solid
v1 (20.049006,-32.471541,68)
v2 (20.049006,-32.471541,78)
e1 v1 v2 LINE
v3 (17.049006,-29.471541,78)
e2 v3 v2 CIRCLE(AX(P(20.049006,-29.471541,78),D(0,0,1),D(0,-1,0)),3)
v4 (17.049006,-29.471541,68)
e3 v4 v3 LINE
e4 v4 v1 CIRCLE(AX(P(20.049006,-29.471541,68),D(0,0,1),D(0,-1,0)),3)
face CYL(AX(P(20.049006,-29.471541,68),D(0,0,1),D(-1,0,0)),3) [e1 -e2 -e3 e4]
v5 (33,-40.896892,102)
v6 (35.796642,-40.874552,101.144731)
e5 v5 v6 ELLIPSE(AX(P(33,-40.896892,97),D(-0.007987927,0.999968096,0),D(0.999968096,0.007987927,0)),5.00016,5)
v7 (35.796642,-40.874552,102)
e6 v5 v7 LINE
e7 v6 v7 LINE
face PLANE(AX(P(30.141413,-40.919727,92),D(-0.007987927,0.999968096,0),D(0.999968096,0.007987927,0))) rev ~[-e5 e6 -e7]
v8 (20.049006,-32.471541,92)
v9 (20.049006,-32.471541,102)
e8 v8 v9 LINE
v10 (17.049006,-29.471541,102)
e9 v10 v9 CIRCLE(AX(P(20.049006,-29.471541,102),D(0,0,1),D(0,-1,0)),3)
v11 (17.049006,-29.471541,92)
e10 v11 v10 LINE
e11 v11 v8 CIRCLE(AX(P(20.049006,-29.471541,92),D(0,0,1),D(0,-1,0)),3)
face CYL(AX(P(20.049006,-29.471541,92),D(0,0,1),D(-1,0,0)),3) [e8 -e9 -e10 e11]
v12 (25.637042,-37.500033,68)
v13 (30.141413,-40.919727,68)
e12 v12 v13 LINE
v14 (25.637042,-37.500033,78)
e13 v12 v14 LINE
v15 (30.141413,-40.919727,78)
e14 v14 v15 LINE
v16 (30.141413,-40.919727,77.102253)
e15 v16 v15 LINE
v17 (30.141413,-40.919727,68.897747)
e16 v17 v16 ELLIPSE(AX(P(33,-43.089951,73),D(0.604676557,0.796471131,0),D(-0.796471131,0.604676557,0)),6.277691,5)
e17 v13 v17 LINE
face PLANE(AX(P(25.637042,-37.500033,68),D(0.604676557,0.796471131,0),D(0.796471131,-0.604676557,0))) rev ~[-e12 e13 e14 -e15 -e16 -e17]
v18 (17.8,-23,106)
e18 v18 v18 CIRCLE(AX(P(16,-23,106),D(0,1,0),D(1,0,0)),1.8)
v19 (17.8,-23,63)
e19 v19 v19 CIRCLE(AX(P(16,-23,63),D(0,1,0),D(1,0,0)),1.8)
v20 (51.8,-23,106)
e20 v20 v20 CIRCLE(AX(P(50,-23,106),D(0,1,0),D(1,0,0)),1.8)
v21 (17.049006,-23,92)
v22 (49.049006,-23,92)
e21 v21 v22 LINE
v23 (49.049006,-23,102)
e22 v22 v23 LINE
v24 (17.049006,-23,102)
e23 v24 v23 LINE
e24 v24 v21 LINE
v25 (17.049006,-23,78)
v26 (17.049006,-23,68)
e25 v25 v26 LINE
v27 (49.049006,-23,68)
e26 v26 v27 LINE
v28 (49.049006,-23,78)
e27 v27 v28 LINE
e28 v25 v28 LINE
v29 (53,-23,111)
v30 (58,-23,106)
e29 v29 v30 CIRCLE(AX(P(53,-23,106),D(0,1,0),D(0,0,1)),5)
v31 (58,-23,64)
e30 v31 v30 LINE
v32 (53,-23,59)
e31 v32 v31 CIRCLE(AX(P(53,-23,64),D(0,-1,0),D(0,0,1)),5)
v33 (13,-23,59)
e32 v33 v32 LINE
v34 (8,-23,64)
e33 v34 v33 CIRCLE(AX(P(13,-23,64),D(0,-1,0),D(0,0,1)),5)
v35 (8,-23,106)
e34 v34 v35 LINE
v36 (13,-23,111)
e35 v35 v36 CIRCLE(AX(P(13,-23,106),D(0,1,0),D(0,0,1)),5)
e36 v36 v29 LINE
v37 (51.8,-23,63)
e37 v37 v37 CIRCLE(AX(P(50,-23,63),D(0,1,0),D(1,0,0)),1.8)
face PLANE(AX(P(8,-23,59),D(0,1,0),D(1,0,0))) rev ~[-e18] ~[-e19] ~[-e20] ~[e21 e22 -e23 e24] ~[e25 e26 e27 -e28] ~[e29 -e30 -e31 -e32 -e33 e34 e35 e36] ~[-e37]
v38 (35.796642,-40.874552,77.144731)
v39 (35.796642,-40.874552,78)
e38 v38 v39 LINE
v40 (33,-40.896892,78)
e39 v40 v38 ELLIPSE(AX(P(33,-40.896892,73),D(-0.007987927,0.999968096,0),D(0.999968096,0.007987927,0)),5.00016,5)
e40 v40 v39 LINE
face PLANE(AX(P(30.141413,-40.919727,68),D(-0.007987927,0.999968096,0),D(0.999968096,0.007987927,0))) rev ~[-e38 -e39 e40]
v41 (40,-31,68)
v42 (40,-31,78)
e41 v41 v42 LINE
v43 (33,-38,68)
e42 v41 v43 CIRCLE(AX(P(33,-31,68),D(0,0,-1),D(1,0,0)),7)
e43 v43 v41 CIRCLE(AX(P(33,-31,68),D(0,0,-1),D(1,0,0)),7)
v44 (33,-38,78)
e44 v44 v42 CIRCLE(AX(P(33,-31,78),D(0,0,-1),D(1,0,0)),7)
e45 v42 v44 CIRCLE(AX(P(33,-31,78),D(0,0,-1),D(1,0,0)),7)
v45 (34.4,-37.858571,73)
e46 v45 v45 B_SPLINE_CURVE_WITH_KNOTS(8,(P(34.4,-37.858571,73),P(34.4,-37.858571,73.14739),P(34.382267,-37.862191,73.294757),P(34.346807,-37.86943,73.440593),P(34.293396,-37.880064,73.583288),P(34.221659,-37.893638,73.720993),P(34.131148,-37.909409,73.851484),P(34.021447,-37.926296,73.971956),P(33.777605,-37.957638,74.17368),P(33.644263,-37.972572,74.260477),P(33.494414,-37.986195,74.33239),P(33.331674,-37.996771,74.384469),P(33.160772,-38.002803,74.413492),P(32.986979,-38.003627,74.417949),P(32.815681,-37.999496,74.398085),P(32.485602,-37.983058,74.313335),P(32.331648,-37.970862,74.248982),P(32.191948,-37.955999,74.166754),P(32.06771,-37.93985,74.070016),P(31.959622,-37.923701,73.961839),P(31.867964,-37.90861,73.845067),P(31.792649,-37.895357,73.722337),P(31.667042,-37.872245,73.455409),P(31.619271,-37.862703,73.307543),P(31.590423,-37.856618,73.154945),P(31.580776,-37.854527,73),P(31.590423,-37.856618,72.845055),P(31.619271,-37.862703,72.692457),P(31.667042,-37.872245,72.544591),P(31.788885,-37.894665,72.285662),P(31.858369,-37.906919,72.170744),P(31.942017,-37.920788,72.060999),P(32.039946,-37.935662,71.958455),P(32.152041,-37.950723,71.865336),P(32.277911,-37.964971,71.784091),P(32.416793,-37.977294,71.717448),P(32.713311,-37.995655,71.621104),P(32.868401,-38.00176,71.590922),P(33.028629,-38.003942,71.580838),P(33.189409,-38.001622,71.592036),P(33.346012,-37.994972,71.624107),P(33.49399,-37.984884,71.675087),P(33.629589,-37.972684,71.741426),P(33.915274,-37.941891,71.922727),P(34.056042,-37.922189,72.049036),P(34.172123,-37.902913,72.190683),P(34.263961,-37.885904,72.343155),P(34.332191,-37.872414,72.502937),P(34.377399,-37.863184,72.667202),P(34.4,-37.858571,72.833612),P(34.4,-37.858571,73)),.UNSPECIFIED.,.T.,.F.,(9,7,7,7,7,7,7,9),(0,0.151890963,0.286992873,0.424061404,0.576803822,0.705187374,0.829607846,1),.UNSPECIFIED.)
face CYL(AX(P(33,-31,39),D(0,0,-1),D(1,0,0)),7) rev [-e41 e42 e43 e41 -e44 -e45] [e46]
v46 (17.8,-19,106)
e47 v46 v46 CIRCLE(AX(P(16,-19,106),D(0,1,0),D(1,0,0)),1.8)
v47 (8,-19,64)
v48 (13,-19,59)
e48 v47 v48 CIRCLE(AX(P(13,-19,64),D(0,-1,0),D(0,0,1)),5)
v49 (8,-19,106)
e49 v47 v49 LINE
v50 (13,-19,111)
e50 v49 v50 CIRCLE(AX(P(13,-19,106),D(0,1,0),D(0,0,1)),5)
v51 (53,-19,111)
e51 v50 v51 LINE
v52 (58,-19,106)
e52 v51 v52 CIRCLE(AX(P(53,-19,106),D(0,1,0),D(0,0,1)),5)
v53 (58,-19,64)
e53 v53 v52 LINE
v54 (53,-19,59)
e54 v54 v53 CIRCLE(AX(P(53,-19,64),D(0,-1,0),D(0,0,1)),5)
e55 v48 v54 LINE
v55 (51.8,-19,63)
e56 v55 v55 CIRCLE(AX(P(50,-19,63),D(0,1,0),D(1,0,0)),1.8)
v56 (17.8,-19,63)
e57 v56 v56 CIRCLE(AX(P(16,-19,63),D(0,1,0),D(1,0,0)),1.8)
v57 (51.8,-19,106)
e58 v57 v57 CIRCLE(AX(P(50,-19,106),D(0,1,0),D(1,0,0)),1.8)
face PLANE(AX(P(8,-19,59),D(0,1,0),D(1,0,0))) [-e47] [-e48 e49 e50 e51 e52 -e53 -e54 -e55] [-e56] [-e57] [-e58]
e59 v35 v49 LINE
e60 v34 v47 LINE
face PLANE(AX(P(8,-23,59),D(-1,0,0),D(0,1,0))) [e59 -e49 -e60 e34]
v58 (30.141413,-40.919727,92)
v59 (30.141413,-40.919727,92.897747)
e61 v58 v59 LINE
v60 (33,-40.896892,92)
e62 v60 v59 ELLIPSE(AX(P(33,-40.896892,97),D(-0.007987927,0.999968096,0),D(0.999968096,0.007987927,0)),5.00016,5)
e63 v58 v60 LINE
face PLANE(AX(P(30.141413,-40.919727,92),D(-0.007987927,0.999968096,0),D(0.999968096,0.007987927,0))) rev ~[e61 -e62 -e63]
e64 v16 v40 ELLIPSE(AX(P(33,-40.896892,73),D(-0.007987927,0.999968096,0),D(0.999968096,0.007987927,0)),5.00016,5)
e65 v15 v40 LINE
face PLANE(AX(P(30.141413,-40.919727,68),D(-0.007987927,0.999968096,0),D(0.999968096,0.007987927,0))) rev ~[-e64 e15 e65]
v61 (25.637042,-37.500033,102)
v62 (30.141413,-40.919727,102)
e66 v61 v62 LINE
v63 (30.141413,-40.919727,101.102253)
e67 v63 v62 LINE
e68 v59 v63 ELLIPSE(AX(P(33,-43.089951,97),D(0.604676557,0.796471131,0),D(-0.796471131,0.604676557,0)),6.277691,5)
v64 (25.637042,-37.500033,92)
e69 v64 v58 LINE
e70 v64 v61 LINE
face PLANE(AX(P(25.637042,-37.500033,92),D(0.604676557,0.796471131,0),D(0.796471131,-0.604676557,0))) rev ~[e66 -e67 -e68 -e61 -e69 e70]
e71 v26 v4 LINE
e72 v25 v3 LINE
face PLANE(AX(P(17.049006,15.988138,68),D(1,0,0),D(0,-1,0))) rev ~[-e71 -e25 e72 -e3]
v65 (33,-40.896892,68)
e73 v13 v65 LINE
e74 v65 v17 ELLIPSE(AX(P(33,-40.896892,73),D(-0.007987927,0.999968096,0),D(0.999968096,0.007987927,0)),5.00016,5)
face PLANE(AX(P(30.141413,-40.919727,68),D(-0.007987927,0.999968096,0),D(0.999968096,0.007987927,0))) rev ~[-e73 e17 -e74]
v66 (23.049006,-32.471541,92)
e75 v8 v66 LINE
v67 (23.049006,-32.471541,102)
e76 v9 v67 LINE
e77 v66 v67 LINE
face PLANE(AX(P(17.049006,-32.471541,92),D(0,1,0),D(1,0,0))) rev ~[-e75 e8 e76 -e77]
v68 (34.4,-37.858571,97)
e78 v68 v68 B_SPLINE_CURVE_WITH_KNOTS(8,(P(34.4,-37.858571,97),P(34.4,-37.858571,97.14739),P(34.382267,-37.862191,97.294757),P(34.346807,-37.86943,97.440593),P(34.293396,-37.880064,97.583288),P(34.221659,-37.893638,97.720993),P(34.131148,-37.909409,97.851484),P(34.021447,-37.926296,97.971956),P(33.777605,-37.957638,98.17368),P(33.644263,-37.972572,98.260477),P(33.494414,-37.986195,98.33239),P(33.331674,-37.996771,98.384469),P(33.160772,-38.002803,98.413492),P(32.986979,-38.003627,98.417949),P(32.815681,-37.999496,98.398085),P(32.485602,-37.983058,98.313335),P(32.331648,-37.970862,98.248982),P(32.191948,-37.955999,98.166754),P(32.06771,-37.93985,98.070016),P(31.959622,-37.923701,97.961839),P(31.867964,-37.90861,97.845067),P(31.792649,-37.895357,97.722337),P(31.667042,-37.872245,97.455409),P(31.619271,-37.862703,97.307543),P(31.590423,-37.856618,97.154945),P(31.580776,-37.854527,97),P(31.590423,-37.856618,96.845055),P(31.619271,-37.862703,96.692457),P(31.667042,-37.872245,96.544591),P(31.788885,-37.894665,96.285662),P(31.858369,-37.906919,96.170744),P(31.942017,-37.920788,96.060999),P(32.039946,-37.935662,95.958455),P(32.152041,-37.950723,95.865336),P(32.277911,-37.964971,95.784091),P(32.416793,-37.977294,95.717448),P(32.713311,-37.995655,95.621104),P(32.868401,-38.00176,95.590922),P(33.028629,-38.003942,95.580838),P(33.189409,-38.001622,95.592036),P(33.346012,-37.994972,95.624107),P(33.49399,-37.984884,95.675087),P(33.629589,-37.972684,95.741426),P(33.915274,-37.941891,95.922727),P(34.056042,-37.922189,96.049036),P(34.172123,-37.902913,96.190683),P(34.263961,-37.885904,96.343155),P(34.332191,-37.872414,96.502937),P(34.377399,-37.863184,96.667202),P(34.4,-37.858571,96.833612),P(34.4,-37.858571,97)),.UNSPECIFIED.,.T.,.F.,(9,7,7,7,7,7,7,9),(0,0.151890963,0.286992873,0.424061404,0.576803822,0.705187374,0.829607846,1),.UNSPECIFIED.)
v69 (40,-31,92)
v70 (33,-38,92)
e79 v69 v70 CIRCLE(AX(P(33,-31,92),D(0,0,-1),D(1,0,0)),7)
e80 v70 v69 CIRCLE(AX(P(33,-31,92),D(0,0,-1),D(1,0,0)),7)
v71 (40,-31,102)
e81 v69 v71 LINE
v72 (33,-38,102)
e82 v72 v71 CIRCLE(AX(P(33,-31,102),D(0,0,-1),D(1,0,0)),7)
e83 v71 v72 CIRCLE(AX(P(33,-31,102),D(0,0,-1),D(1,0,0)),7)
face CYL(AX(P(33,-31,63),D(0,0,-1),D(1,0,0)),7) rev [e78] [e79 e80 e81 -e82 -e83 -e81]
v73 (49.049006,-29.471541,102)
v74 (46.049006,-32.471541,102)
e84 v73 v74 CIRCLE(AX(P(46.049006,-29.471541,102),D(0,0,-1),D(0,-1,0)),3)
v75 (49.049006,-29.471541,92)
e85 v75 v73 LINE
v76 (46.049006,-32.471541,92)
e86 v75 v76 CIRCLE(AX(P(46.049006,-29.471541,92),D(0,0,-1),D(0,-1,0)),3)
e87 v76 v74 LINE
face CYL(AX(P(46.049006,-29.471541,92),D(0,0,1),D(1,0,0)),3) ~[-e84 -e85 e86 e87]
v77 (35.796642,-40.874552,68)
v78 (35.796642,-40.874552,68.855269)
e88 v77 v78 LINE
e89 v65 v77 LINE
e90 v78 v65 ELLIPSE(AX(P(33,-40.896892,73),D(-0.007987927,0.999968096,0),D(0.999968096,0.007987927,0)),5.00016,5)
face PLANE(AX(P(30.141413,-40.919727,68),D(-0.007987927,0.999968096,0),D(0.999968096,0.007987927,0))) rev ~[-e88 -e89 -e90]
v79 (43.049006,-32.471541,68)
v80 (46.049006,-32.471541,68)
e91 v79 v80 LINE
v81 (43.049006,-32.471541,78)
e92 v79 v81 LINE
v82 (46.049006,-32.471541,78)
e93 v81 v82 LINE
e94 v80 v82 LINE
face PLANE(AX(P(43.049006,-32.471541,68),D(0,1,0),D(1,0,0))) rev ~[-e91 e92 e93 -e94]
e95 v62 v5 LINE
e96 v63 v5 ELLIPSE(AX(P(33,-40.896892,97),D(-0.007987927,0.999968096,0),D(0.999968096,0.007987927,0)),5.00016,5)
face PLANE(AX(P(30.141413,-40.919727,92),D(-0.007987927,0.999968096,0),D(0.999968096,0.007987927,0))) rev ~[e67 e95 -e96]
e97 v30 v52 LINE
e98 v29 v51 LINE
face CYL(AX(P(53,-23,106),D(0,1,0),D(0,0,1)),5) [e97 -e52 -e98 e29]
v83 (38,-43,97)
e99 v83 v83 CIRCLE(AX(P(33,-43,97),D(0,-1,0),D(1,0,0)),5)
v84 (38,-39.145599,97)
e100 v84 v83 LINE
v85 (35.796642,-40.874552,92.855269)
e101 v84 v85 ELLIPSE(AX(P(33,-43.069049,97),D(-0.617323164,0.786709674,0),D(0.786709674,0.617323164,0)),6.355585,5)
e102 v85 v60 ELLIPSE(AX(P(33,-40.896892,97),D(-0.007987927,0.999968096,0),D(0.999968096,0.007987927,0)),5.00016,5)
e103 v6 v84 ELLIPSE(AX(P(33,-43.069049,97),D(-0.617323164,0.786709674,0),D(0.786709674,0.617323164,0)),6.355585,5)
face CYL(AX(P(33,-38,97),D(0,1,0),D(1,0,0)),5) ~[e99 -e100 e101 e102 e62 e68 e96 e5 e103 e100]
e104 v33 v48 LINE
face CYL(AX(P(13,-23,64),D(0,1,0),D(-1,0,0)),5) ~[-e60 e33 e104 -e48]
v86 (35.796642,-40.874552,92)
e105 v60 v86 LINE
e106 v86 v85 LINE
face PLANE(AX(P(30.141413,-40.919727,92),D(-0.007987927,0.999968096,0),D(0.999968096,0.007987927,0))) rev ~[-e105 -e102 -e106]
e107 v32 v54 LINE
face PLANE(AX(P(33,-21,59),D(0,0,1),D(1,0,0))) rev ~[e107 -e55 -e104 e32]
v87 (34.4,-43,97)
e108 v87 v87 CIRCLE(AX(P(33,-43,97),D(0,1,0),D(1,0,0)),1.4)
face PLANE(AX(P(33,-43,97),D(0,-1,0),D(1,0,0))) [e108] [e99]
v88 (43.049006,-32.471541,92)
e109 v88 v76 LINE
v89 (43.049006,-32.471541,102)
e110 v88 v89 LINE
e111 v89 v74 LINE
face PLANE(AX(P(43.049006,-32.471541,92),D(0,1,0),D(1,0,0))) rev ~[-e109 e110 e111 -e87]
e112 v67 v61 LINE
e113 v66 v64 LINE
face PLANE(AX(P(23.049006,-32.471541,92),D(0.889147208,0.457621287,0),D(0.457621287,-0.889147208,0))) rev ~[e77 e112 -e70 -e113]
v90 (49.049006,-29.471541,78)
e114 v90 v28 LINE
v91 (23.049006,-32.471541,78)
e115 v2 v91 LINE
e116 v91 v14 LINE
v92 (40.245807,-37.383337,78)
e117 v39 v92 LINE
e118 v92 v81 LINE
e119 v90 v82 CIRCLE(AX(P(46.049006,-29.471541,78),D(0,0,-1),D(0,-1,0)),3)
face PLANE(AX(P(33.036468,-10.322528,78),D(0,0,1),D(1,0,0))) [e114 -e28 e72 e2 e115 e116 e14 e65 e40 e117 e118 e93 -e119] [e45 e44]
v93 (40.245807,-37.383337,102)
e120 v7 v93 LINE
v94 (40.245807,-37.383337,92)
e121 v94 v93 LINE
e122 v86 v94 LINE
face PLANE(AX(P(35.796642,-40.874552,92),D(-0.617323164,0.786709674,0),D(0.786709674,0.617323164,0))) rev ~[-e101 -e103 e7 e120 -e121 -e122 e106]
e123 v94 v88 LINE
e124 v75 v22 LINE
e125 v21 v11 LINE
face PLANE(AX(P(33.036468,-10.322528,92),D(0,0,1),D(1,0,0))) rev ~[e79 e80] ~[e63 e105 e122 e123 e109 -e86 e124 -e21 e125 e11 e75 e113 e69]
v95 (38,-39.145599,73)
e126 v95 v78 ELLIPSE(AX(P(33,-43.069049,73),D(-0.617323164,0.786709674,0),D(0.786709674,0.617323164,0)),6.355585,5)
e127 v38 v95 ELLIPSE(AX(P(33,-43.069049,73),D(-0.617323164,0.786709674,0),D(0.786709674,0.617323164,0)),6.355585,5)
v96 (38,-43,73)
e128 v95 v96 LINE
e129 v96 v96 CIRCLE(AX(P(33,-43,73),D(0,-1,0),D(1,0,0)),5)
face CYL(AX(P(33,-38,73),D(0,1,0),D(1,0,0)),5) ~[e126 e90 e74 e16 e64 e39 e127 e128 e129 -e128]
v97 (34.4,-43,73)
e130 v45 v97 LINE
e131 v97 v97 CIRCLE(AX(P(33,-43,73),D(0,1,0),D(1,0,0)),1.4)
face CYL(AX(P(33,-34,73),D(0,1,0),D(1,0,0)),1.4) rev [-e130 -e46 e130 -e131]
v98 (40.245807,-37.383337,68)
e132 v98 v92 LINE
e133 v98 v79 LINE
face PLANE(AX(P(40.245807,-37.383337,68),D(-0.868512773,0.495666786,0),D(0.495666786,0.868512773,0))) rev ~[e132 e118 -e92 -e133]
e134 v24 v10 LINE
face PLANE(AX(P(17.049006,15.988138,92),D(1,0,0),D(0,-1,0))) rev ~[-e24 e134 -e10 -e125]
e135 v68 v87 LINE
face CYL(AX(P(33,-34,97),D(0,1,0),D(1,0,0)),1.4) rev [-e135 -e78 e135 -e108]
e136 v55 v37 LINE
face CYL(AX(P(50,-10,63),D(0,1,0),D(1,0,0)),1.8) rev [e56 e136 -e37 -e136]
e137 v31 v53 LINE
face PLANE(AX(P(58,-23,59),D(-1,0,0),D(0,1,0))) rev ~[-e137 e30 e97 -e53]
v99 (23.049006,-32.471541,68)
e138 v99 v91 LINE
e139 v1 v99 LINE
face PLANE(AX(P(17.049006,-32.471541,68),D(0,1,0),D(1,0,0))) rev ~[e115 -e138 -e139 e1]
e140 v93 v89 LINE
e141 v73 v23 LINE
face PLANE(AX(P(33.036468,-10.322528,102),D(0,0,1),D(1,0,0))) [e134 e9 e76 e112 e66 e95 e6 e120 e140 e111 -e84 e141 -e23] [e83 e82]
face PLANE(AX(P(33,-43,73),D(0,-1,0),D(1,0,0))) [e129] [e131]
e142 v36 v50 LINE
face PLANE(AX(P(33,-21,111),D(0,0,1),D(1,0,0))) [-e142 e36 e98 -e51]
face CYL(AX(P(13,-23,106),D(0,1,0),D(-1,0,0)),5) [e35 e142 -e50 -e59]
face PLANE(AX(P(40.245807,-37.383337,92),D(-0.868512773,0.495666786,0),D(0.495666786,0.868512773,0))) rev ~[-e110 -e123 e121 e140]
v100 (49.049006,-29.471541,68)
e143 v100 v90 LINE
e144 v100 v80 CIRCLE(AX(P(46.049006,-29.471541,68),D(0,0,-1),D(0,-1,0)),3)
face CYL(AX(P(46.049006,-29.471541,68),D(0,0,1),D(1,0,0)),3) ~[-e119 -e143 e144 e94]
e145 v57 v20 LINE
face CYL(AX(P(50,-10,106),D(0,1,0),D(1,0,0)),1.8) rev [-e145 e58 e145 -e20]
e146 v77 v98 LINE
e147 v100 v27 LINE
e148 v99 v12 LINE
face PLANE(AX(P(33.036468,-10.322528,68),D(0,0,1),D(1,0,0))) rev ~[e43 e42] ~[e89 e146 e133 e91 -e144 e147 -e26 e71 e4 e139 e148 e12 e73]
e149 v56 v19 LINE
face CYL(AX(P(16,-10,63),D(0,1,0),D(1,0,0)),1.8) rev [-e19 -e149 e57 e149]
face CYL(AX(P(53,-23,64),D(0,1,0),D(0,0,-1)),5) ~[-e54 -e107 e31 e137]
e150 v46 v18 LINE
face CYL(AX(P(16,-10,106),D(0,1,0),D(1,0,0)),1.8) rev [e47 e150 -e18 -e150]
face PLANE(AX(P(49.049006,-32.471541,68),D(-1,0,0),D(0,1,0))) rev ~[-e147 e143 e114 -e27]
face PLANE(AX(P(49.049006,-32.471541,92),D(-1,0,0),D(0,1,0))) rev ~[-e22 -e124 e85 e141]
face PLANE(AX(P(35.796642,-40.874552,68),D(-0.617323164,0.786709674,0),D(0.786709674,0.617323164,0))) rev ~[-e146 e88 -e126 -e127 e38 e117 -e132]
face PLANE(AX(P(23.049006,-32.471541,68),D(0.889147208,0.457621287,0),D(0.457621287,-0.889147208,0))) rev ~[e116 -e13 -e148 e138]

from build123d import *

# Parameters (mm, degrees)
BOX058_W                = 50
BOX058_H                = 37
BOX058_DEPTH            = 48
BOX057_W                = 59
BOX057_H                = 68
BOX057_DEPTH            = 48
BOX056_W                = 3
BOX056_H                = 6
BOX056_DEPTH            = 23
CYLINDER114_R           = 1.4
CYLINDER114_DEPTH       = 10
CYLINDER114_ROLL_ANGLE  = 90
CYLINDER116_R           = 1.4
CYLINDER116_DEPTH       = 10
CYLINDER116_ROLL_ANGLE  = 90
CYLINDER113_R           = 5
CYLINDER113_DEPTH       = 5
CYLINDER113_ROLL_ANGLE  = 90
CYLINDER112_R           = 3
CYLINDER112_DEPTH       = 180
CYLINDER112_PITCH_ANGLE = 90
PAD056_DEPTH            = 10
PAD055_DEPTH            = 10
CYLINDER110_R           = 7.5
CYLINDER110_DEPTH       = 180
CYLINDER110_PITCH_ANGLE = 90
CYLINDER111_R           = 7
CYLINDER111_DEPTH       = 120
PAD054_DEPTH            = 10
PAD053_DEPTH            = 10
BOX055_W                = 32
BOX055_H                = 23
BOX055_DEPTH            = 22
FILLET045_R             = 5
FILLET046_R             = 8
FILLET047_R             = 8
FILLET048_R             = 3
FILLET049_R             = 1
FILLET050_R             = 1
FILLET051_R             = 1
FILLET052_R             = 1
CYLINDER115_R           = 5
CYLINDER115_DEPTH       = 5
CYLINDER115_ROLL_ANGLE  = 90
BOX048_W                = 50
BOX048_H                = 37
BOX048_DEPTH            = 48
BOX046_W                = 59
BOX046_H                = 68
BOX046_DEPTH            = 48
BOX040_W                = 3
BOX040_H                = 6
BOX040_DEPTH            = 23
CYLINDER082_R           = 1.4
CYLINDER082_DEPTH       = 10
CYLINDER082_ROLL_ANGLE  = 90
CYLINDER084_R           = 1.4
CYLINDER084_DEPTH       = 10
CYLINDER084_ROLL_ANGLE  = 90
CYLINDER081_R           = 5
CYLINDER081_DEPTH       = 5
CYLINDER081_ROLL_ANGLE  = 90
CYLINDER080_R           = 3
CYLINDER080_DEPTH       = 180
CYLINDER080_PITCH_ANGLE = 90
PAD044_DEPTH            = 10
PAD043_DEPTH            = 10
CYLINDER075_R           = 7.5
CYLINDER075_DEPTH       = 180
CYLINDER075_PITCH_ANGLE = 90
CYLINDER077_R           = 7
CYLINDER077_DEPTH       = 120
PAD042_DEPTH            = 10
PAD_DEPTH               = 10
BOX039_W                = 32
BOX039_H                = 23
BOX039_DEPTH            = 22
FILLET021_R             = 5
FILLET022_R             = 8
FILLET023_R             = 8
FILLET024_R             = 3
FILLET025_R             = 1
FILLET026_R             = 1
FILLET027_R             = 1
FILLET028_R             = 1
CYLINDER083_R           = 5
CYLINDER083_DEPTH       = 5
CYLINDER083_ROLL_ANGLE  = 90
CYLINDER103_R           = 1.8
CYLINDER103_DEPTH       = 34
CYLINDER103_ROLL_ANGLE  = 90
CYLINDER102_R           = 1.8
CYLINDER102_DEPTH       = 34
CYLINDER102_ROLL_ANGLE  = 90
CYLINDER105_R           = 1.8
CYLINDER105_DEPTH       = 34
CYLINDER105_ROLL_ANGLE  = 90
CYLINDER104_R           = 1.8
CYLINDER104_DEPTH       = 34
CYLINDER104_ROLL_ANGLE  = 90
BOX053_W                = 50
BOX053_H                = 4
BOX053_DEPTH            = 52
FILLET053_R             = 5


with BuildPart() as cubo053:
    # Box058 → Box058 (new body)
    with BuildSketch(Plane(origin=(8, -47, 80), x_dir=(1, 0, 0), z_dir=(0, 0, 1))):
        with Locations((25, 18.5)):
            Rectangle(BOX058_W, BOX058_H)
    extrude(amount=BOX058_DEPTH)


with BuildPart() as cubo052:
    # Box057 → Box057 (new body)
    with BuildSketch(Plane(origin=(0, -19, 64), x_dir=(1, 0, 0), z_dir=(0, 0, 1))):
        with Locations((29.5, 34)):
            Rectangle(BOX057_W, BOX057_H)
    extrude(amount=BOX057_DEPTH)


with BuildPart() as cubo051:
    # Box056 → Box056 (new body)
    with BuildSketch(Plane(origin=(17, -11, 79), x_dir=(1, 0, 0), z_dir=(0, 0, 1))):
        with Locations((1.5, 3)):
            Rectangle(BOX056_W, BOX056_H)
    extrude(amount=BOX056_DEPTH)


with BuildPart() as cilindro068:
    # Cylinder114 → Cylinder114 (new body)
    with BuildSketch(Plane.XY):
        Circle(CYLINDER114_R)
    extrude(amount=CYLINDER114_DEPTH)


with BuildPart() as cilindro068_1:
    # Cylinder114 roll: moved
    add(cilindro068.part.rotate(Axis((0, 0, 0), (1, 0, 0)), CYLINDER114_ROLL_ANGLE))


with BuildPart() as cilindro068_2:
    # Cylinder114 placement: moved
    add(cilindro068_1.part.moved(Location((33, -27, 105))))


with BuildPart() as cilindro070:
    # Cylinder116 → Cylinder116 (new body)
    with BuildSketch(Plane.XY):
        Circle(CYLINDER116_R)
    extrude(amount=CYLINDER116_DEPTH)


with BuildPart() as cilindro070_1:
    # Cylinder116 roll: moved
    add(cilindro070.part.rotate(Axis((0, 0, 0), (1, 0, 0)), CYLINDER116_ROLL_ANGLE))


with BuildPart() as cilindro070_2:
    # Cylinder116 placement: moved
    add(cilindro070_1.part.moved(Location((33, -27, 75))))


with BuildPart() as cilindro067:
    # Cylinder113 → Cylinder113 (new body)
    with BuildSketch(Plane.XY):
        Circle(CYLINDER113_R)
    extrude(amount=CYLINDER113_DEPTH)


with BuildPart() as cilindro067_1:
    # Cylinder113 roll: moved
    add(cilindro067.part.rotate(Axis((0, 0, 0), (1, 0, 0)), CYLINDER113_ROLL_ANGLE))


with BuildPart() as cilindro067_2:
    # Cylinder113 placement: moved
    add(cilindro067_1.part.moved(Location((33, -31, 105))))


with BuildPart() as m033:
    # Cylinder112 → Cylinder112 (new body)
    with BuildSketch(Plane.XY):
        Circle(CYLINDER112_R)
    extrude(amount=CYLINDER112_DEPTH)


with BuildPart() as m033_1:
    # Cylinder112 pitch: moved
    add(m033.part.rotate(Axis((0, 0, 0), (0, 1, 0)), CYLINDER112_PITCH_ANGLE))


with BuildPart() as m033_2:
    # Cylinder112 placement: moved
    add(m033_1.part.moved(Location((-12, 9, 100))))


with BuildPart() as pad056:
    # Sketch063 → Pad056 (new body)
    with BuildSketch(Plane(origin=(43, 9, 0), x_dir=(0, 1, 0), z_dir=(1, 0, 0))):
        Polygon((-4.713422, 99.981385), (-2.357765, 95.901267), (2.35355, 95.901267), (4.709208, 99.981385), (2.35355, 104.061504), (-2.357765, 104.061504), align=None)
    extrude(amount=PAD056_DEPTH)


with BuildPart() as pad055:
    # Sketch062 → Pad055 (new body)
    with BuildSketch(Plane(origin=(13, 9, 0), x_dir=(0, 1, 0), z_dir=(1, 0, 0))):
        Polygon((-4.713422, 99.981385), (-2.357765, 95.901267), (2.35355, 95.901267), (4.709208, 99.981385), (2.35355, 104.061504), (-2.357765, 104.061504), align=None)
    extrude(amount=PAD055_DEPTH)


with BuildPart() as m032:
    # Cylinder110 → Cylinder110 (new body)
    with BuildSketch(Plane.XY):
        Circle(CYLINDER110_R)
    extrude(amount=CYLINDER110_DEPTH)


with BuildPart() as m032_1:
    # Cylinder110 pitch: moved
    add(m032.part.rotate(Axis((0, 0, 0), (0, 1, 0)), CYLINDER110_PITCH_ANGLE))


with BuildPart() as m032_2:
    # Cylinder110 placement: moved
    add(m032_1.part.moved(Location((-12, 12, 80))))


with BuildPart() as cilindro066:
    # Cylinder111 → Cylinder111 (new body)
    with BuildSketch(Plane(origin=(33, -24, 41), x_dir=(1, 0, 0), z_dir=(0, 0, 1))):
        Circle(CYLINDER111_R)
    extrude(amount=CYLINDER111_DEPTH)


with BuildPart() as pad054:
    # Sketch061 → Pad054 (new body)
    with BuildSketch(Plane.XY.offset(100)):
        Polygon((23.049006, -25.471541), (25.637042, -30.500033), (30.141413, -33.919727), (35.796642, -33.874552), (40.245807, -30.383337), (43.049006, -25.471541), (49.049006, -25.471541), (49.049006, 22.988138), (17.049006, 22.988138), (17.049006, -25.471541), align=None)
        with BuildLine():
            ThreePointArc((26.014116, -2.124694), (20.116872, -8.021937), (26.014116, -13.919181))
            Line((26.014116, -13.919181), (40.6833, -13.919181))
            ThreePointArc((40.6833, -13.919181), (46.580544, -8.021937), (40.6833, -2.124694))
            Line((26.014116, -2.124694), (40.6833, -2.124694))
        make_face(mode=Mode.SUBTRACT)
    extrude(amount=PAD054_DEPTH)


with BuildPart() as pad053:
    # Sketch060 → Pad053 (new body)
    with BuildSketch(Plane.XY.offset(70)):
        Polygon((23.049006, -25.471541), (25.637042, -30.500033), (30.141413, -33.919727), (35.796642, -33.874552), (40.245807, -30.383337), (43.049006, -25.471541), (49.049006, -25.471541), (49.049006, 22.988138), (17.049006, 22.988138), (17.049006, -25.471541), align=None)
        with BuildLine():
            ThreePointArc((26.014116, -2.124694), (20.116872, -8.021937), (26.014116, -13.919181))
            Line((26.014116, -13.919181), (40.6833, -13.919181))
            ThreePointArc((40.6833, -13.919181), (46.580544, -8.021937), (40.6833, -2.124694))
            Line((26.014116, -2.124694), (40.6833, -2.124694))
        make_face(mode=Mode.SUBTRACT)
    extrude(amount=PAD053_DEPTH)


with BuildPart() as fillet052:
    # Box055 → Box055 (new body)
    with BuildSketch(Plane(origin=(17, 0, 79), x_dir=(1, 0, 0), z_dir=(0, 0, 1))):
        with Locations((16, 11.5)):
            Rectangle(BOX055_W, BOX055_H)
    extrude(amount=BOX055_DEPTH)

    # Fusion062: union Pad054, Pad053
    add(pad054.part)
    add(pad053.part)

    # Cut127: cut Cilindro066
    add(cilindro066.part, mode=Mode.SUBTRACT)

    # Cut128: cut M032
    add(m032_2.part, mode=Mode.SUBTRACT)

    # Fillet045
    fillet045_edges = [fillet052.edges().sort_by_distance(p)[0] for p in [
        (33.348708, -2.124694, 100),
    ]]
    fillet(fillet045_edges, radius=FILLET045_R)

    # Fillet046
    fillet046_edges = [fillet052.edges().sort_by_distance(p)[0] for p in [
        (33.049006, 22.988138, 110),
    ]]
    fillet(fillet046_edges, radius=FILLET046_R)

    # Fillet047
    fillet047_edges = [fillet052.edges().sort_by_distance(p)[0] for p in [
        (33.049006, 22.988138, 70),
    ]]
    fillet(fillet047_edges, radius=FILLET047_R)

    # Fillet048
    fillet048_edges = [fillet052.edges().sort_by_distance(p)[0] for p in [
        (17.049006, -25.471541, 75),
        (49.049006, -25.471541, 75),
        (17.049006, -25.471541, 105),
        (49.049006, -25.471541, 105),
    ]]
    fillet(fillet048_edges, radius=FILLET048_R)

    # Fillet049
    fillet049_edges = [fillet052.edges().sort_by_distance(p)[0] for p in [
        (20.116872, -8.021937, 110),
    ]]
    fillet(fillet049_edges, radius=FILLET049_R)

    # Fillet050
    fillet050_edges = [fillet052.edges().sort_by_distance(p)[0] for p in [
        (46.580544, -8.021937, 80),
    ]]
    fillet(fillet050_edges, radius=FILLET050_R)

    # Fillet051
    fillet051_edges = [fillet052.edges().sort_by_distance(p)[0] for p in [
        (46.580544, -8.021937, 70),
    ]]
    fillet(fillet051_edges, radius=FILLET051_R)

    # Cut129: cut Pad055
    add(pad055.part, mode=Mode.SUBTRACT)

    # Cut130: cut Pad056
    add(pad056.part, mode=Mode.SUBTRACT)

    # Cut131: cut M033
    add(m033_2.part, mode=Mode.SUBTRACT)

    # Fillet052
    fillet052_edges = [fillet052.edges().sort_by_distance(p)[0] for p in [
        (33.024503, 0, 80),
    ]]
    fillet(fillet052_edges, radius=FILLET052_R)


with BuildPart() as cut135:
    # Cylinder115 → Cylinder115 (new body)
    with BuildSketch(Plane.XY):
        Circle(CYLINDER115_R)
    extrude(amount=CYLINDER115_DEPTH)


with BuildPart() as cut135_1:
    # Cylinder115 roll: moved
    add(cut135.part.rotate(Axis((0, 0, 0), (1, 0, 0)), CYLINDER115_ROLL_ANGLE))


with BuildPart() as cut135_2:
    # Cylinder115 placement: moved
    add(cut135_1.part.moved(Location((33, -31, 75))))

    # Fusion063: union Cilindro067, Fillet052
    add(cilindro067_2.part)
    add(fillet052.part)

    # Cut132: cut Cilindro070
    add(cilindro070_2.part, mode=Mode.SUBTRACT)

    # Cut133: cut Cilindro068
    add(cilindro068_2.part, mode=Mode.SUBTRACT)

    # Fusion064: union Cubo051
    add(cubo051.part)


with BuildPart() as cut135_3:
    # Fusion064 placement: moved
    add(cut135_2.part.moved(Location((0, -4, -2))))

    # Cut134: cut Cubo052
    add(cubo052.part, mode=Mode.SUBTRACT)


with BuildPart() as cut135_4:
    # Cut134 placement: moved
    add(cut135_3.part.moved(Location((0, -3, 0))))

    # Cut135: cut Cubo053
    add(cubo053.part, mode=Mode.SUBTRACT)


with BuildPart() as cut135_5:
    # Cut135 placement: moved
    add(cut135_4.part.moved(Location((0, 0, 24))))


with BuildPart() as cubo043:
    # Box048 → Box048 (new body)
    with BuildSketch(Plane(origin=(8, -47, 80), x_dir=(1, 0, 0), z_dir=(0, 0, 1))):
        with Locations((25, 18.5)):
            Rectangle(BOX048_W, BOX048_H)
    extrude(amount=BOX048_DEPTH)


with BuildPart() as cubo041:
    # Box046 → Box046 (new body)
    with BuildSketch(Plane(origin=(0, -19, 64), x_dir=(1, 0, 0), z_dir=(0, 0, 1))):
        with Locations((29.5, 34)):
            Rectangle(BOX046_W, BOX046_H)
    extrude(amount=BOX046_DEPTH)


with BuildPart() as cubo035:
    # Box040 → Box040 (new body)
    with BuildSketch(Plane(origin=(17, -11, 79), x_dir=(1, 0, 0), z_dir=(0, 0, 1))):
        with Locations((1.5, 3)):
            Rectangle(BOX040_W, BOX040_H)
    extrude(amount=BOX040_DEPTH)


with BuildPart() as cilindro044:
    # Cylinder082 → Cylinder082 (new body)
    with BuildSketch(Plane.XY):
        Circle(CYLINDER082_R)
    extrude(amount=CYLINDER082_DEPTH)


with BuildPart() as cilindro044_1:
    # Cylinder082 roll: moved
    add(cilindro044.part.rotate(Axis((0, 0, 0), (1, 0, 0)), CYLINDER082_ROLL_ANGLE))


with BuildPart() as cilindro044_2:
    # Cylinder082 placement: moved
    add(cilindro044_1.part.moved(Location((33, -27, 105))))


with BuildPart() as cilindro046:
    # Cylinder084 → Cylinder084 (new body)
    with BuildSketch(Plane.XY):
        Circle(CYLINDER084_R)
    extrude(amount=CYLINDER084_DEPTH)


with BuildPart() as cilindro046_1:
    # Cylinder084 roll: moved
    add(cilindro046.part.rotate(Axis((0, 0, 0), (1, 0, 0)), CYLINDER084_ROLL_ANGLE))


with BuildPart() as cilindro046_2:
    # Cylinder084 placement: moved
    add(cilindro046_1.part.moved(Location((33, -27, 75))))


with BuildPart() as cilindro043:
    # Cylinder081 → Cylinder081 (new body)
    with BuildSketch(Plane.XY):
        Circle(CYLINDER081_R)
    extrude(amount=CYLINDER081_DEPTH)


with BuildPart() as cilindro043_1:
    # Cylinder081 roll: moved
    add(cilindro043.part.rotate(Axis((0, 0, 0), (1, 0, 0)), CYLINDER081_ROLL_ANGLE))


with BuildPart() as cilindro043_2:
    # Cylinder081 placement: moved
    add(cilindro043_1.part.moved(Location((33, -31, 105))))


with BuildPart() as m028:
    # Cylinder080 → Cylinder080 (new body)
    with BuildSketch(Plane.XY):
        Circle(CYLINDER080_R)
    extrude(amount=CYLINDER080_DEPTH)


with BuildPart() as m028_1:
    # Cylinder080 pitch: moved
    add(m028.part.rotate(Axis((0, 0, 0), (0, 1, 0)), CYLINDER080_PITCH_ANGLE))


with BuildPart() as m028_2:
    # Cylinder080 placement: moved
    add(m028_1.part.moved(Location((-12, 9, 100))))


with BuildPart() as pad044:
    # Sketch051 → Pad044 (new body)
    with BuildSketch(Plane(origin=(43, 9, 0), x_dir=(0, 1, 0), z_dir=(1, 0, 0))):
        Polygon((-4.713422, 99.981385), (-2.357765, 95.901267), (2.35355, 95.901267), (4.709208, 99.981385), (2.35355, 104.061504), (-2.357765, 104.061504), align=None)
    extrude(amount=PAD044_DEPTH)


with BuildPart() as pad043:
    # Sketch050 → Pad043 (new body)
    with BuildSketch(Plane(origin=(13, 9, 0), x_dir=(0, 1, 0), z_dir=(1, 0, 0))):
        Polygon((-4.713422, 99.981385), (-2.357765, 95.901267), (2.35355, 95.901267), (4.709208, 99.981385), (2.35355, 104.061504), (-2.357765, 104.061504), align=None)
    extrude(amount=PAD043_DEPTH)


with BuildPart() as m025:
    # Cylinder075 → Cylinder075 (new body)
    with BuildSketch(Plane.XY):
        Circle(CYLINDER075_R)
    extrude(amount=CYLINDER075_DEPTH)


with BuildPart() as m025_1:
    # Cylinder075 pitch: moved
    add(m025.part.rotate(Axis((0, 0, 0), (0, 1, 0)), CYLINDER075_PITCH_ANGLE))


with BuildPart() as m025_2:
    # Cylinder075 placement: moved
    add(m025_1.part.moved(Location((-12, 12, 80))))


with BuildPart() as cilindro042:
    # Cylinder077 → Cylinder077 (new body)
    with BuildSketch(Plane(origin=(33, -24, 41), x_dir=(1, 0, 0), z_dir=(0, 0, 1))):
        Circle(CYLINDER077_R)
    extrude(amount=CYLINDER077_DEPTH)


with BuildPart() as pad042:
    # Sketch048 → Pad042 (new body)
    with BuildSketch(Plane.XY.offset(100)):
        Polygon((23.049006, -25.471541), (25.637042, -30.500033), (30.141413, -33.919727), (35.796642, -33.874552), (40.245807, -30.383337), (43.049006, -25.471541), (49.049006, -25.471541), (49.049006, 22.988138), (17.049006, 22.988138), (17.049006, -25.471541), align=None)
        with BuildLine():
            ThreePointArc((26.014116, -2.124694), (20.116872, -8.021937), (26.014116, -13.919181))
            Line((26.014116, -13.919181), (40.6833, -13.919181))
            ThreePointArc((40.6833, -13.919181), (46.580544, -8.021937), (40.6833, -2.124694))
            Line((26.014116, -2.124694), (40.6833, -2.124694))
        make_face(mode=Mode.SUBTRACT)
    extrude(amount=PAD042_DEPTH)


with BuildPart() as pad:
    # Sketch → Pad (new body)
    with BuildSketch(Plane.XY.offset(70)):
        Polygon((23.049006, -25.471541), (25.637042, -30.500033), (30.141413, -33.919727), (35.796642, -33.874552), (40.245807, -30.383337), (43.049006, -25.471541), (49.049006, -25.471541), (49.049006, 22.988138), (17.049006, 22.988138), (17.049006, -25.471541), align=None)
        with BuildLine():
            ThreePointArc((26.014116, -2.124694), (20.116872, -8.021937), (26.014116, -13.919181))
            Line((26.014116, -13.919181), (40.6833, -13.919181))
            ThreePointArc((40.6833, -13.919181), (46.580544, -8.021937), (40.6833, -2.124694))
            Line((26.014116, -2.124694), (40.6833, -2.124694))
        make_face(mode=Mode.SUBTRACT)
    extrude(amount=PAD_DEPTH)


with BuildPart() as fillet028:
    # Box039 → Box039 (new body)
    with BuildSketch(Plane(origin=(17, 0, 79), x_dir=(1, 0, 0), z_dir=(0, 0, 1))):
        with Locations((16, 11.5)):
            Rectangle(BOX039_W, BOX039_H)
    extrude(amount=BOX039_DEPTH)

    # Fusion041: union Pad042, Pad
    add(pad042.part)
    add(pad.part)

    # Cut100: cut Cilindro042
    add(cilindro042.part, mode=Mode.SUBTRACT)

    # Cut101: cut M025
    add(m025_2.part, mode=Mode.SUBTRACT)

    # Fillet021
    fillet021_edges = [fillet028.edges().sort_by_distance(p)[0] for p in [
        (33.348708, -2.124694, 100),
    ]]
    fillet(fillet021_edges, radius=FILLET021_R)

    # Fillet022
    fillet022_edges = [fillet028.edges().sort_by_distance(p)[0] for p in [
        (33.049006, 22.988138, 110),
    ]]
    fillet(fillet022_edges, radius=FILLET022_R)

    # Fillet023
    fillet023_edges = [fillet028.edges().sort_by_distance(p)[0] for p in [
        (33.049006, 22.988138, 70),
    ]]
    fillet(fillet023_edges, radius=FILLET023_R)

    # Fillet024
    fillet024_edges = [fillet028.edges().sort_by_distance(p)[0] for p in [
        (17.049006, -25.471541, 75),
        (49.049006, -25.471541, 75),
        (17.049006, -25.471541, 105),
        (49.049006, -25.471541, 105),
    ]]
    fillet(fillet024_edges, radius=FILLET024_R)

    # Fillet025
    fillet025_edges = [fillet028.edges().sort_by_distance(p)[0] for p in [
        (20.116872, -8.021937, 110),
    ]]
    fillet(fillet025_edges, radius=FILLET025_R)

    # Fillet026
    fillet026_edges = [fillet028.edges().sort_by_distance(p)[0] for p in [
        (46.580544, -8.021937, 80),
    ]]
    fillet(fillet026_edges, radius=FILLET026_R)

    # Fillet027
    fillet027_edges = [fillet028.edges().sort_by_distance(p)[0] for p in [
        (46.580544, -8.021937, 70),
    ]]
    fillet(fillet027_edges, radius=FILLET027_R)

    # Cut102: cut Pad043
    add(pad043.part, mode=Mode.SUBTRACT)

    # Cut103: cut Pad044
    add(pad044.part, mode=Mode.SUBTRACT)

    # Cut104: cut M028
    add(m028_2.part, mode=Mode.SUBTRACT)

    # Fillet028
    fillet028_edges = [fillet028.edges().sort_by_distance(p)[0] for p in [
        (33.024503, 0, 80),
    ]]
    fillet(fillet028_edges, radius=FILLET028_R)


with BuildPart() as cut122:
    # Cylinder083 → Cylinder083 (new body)
    with BuildSketch(Plane.XY):
        Circle(CYLINDER083_R)
    extrude(amount=CYLINDER083_DEPTH)


with BuildPart() as cut122_1:
    # Cylinder083 roll: moved
    add(cut122.part.rotate(Axis((0, 0, 0), (1, 0, 0)), CYLINDER083_ROLL_ANGLE))


with BuildPart() as cut122_2:
    # Cylinder083 placement: moved
    add(cut122_1.part.moved(Location((33, -31, 75))))

    # Fusion042: union Cilindro043, Fillet028
    add(cilindro043_2.part)
    add(fillet028.part)

    # Cut105: cut Cilindro046
    add(cilindro046_2.part, mode=Mode.SUBTRACT)

    # Cut106: cut Cilindro044
    add(cilindro044_2.part, mode=Mode.SUBTRACT)

    # Fusion043: union Cubo035
    add(cubo035.part)


with BuildPart() as cut122_3:
    # Fusion043 placement: moved
    add(cut122_2.part.moved(Location((0, -4, -2))))

    # Cut121: cut Cubo041
    add(cubo041.part, mode=Mode.SUBTRACT)


with BuildPart() as cut122_4:
    # Cut121 placement: moved
    add(cut122_3.part.moved(Location((0, -3, 0))))

    # Cut122: cut Cubo043
    add(cubo043.part, mode=Mode.SUBTRACT)


with BuildPart() as cilindro059:
    # Cylinder103 → Cylinder103 (new body)
    with BuildSketch(Plane.XY):
        Circle(CYLINDER103_R)
    extrude(amount=CYLINDER103_DEPTH)


with BuildPart() as cilindro059_1:
    # Cylinder103 roll: moved
    add(cilindro059.part.rotate(Axis((0, 0, 0), (1, 0, 0)), CYLINDER103_ROLL_ANGLE))


with BuildPart() as cilindro059_2:
    # Cylinder103 placement: moved
    add(cilindro059_1.part.moved(Location((16, -10, 63))))


with BuildPart() as fusion056:
    # Cylinder102 → Cylinder102 (new body)
    with BuildSketch(Plane.XY):
        Circle(CYLINDER102_R)
    extrude(amount=CYLINDER102_DEPTH)


with BuildPart() as fusion056_1:
    # Cylinder102 roll: moved
    add(fusion056.part.rotate(Axis((0, 0, 0), (1, 0, 0)), CYLINDER102_ROLL_ANGLE))


with BuildPart() as fusion056_2:
    # Cylinder102 placement: moved
    add(fusion056_1.part.moved(Location((50, -10, 63))))

    # Fusion056: union Cilindro059
    add(cilindro059_2.part)


with BuildPart() as cilindro061:
    # Cylinder105 → Cylinder105 (new body)
    with BuildSketch(Plane.XY):
        Circle(CYLINDER105_R)
    extrude(amount=CYLINDER105_DEPTH)


with BuildPart() as cilindro061_1:
    # Cylinder105 roll: moved
    add(cilindro061.part.rotate(Axis((0, 0, 0), (1, 0, 0)), CYLINDER105_ROLL_ANGLE))


with BuildPart() as cilindro061_2:
    # Cylinder105 placement: moved
    add(cilindro061_1.part.moved(Location((16, -10, 63))))


with BuildPart() as fusion058:
    # Cylinder104 → Cylinder104 (new body)
    with BuildSketch(Plane.XY):
        Circle(CYLINDER104_R)
    extrude(amount=CYLINDER104_DEPTH)


with BuildPart() as fusion058_1:
    # Cylinder104 roll: moved
    add(fusion058.part.rotate(Axis((0, 0, 0), (1, 0, 0)), CYLINDER104_ROLL_ANGLE))


with BuildPart() as fusion058_2:
    # Cylinder104 placement: moved
    add(fusion058_1.part.moved(Location((50, -10, 63))))

    # Fusion057: union Cilindro061
    add(cilindro061_2.part)


with BuildPart() as fusion058_3:
    # Fusion057 placement: moved
    add(fusion058_2.part.moved(Location((0, 0, 43))))

    # Fusion058: union Fusion056
    add(fusion056_2.part)


with BuildPart() as laserpen:
    # Box053 → Box053 (new body)
    with BuildSketch(Plane(origin=(8, -23, 59), x_dir=(1, 0, 0), z_dir=(0, 0, 1))):
        with Locations((25, 2)):
            Rectangle(BOX053_W, BOX053_H)
    extrude(amount=BOX053_DEPTH)

    # Cut125: cut Fusion058
    add(fusion058_3.part, mode=Mode.SUBTRACT)

    # Fusion065: union Cut135, Cut122
    add(cut135_5.part)
    add(cut122_4.part)

    # Fillet053
    fillet053_edges = [laserpen.edges().sort_by_distance(p)[0] for p in [
        (8, -21, 111),
        (8, -21, 59),
        (58, -21, 111),
        (58, -21, 59),
    ]]
    fillet(fillet053_edges, radius=FILLET053_R)


solid = laserpen.part
